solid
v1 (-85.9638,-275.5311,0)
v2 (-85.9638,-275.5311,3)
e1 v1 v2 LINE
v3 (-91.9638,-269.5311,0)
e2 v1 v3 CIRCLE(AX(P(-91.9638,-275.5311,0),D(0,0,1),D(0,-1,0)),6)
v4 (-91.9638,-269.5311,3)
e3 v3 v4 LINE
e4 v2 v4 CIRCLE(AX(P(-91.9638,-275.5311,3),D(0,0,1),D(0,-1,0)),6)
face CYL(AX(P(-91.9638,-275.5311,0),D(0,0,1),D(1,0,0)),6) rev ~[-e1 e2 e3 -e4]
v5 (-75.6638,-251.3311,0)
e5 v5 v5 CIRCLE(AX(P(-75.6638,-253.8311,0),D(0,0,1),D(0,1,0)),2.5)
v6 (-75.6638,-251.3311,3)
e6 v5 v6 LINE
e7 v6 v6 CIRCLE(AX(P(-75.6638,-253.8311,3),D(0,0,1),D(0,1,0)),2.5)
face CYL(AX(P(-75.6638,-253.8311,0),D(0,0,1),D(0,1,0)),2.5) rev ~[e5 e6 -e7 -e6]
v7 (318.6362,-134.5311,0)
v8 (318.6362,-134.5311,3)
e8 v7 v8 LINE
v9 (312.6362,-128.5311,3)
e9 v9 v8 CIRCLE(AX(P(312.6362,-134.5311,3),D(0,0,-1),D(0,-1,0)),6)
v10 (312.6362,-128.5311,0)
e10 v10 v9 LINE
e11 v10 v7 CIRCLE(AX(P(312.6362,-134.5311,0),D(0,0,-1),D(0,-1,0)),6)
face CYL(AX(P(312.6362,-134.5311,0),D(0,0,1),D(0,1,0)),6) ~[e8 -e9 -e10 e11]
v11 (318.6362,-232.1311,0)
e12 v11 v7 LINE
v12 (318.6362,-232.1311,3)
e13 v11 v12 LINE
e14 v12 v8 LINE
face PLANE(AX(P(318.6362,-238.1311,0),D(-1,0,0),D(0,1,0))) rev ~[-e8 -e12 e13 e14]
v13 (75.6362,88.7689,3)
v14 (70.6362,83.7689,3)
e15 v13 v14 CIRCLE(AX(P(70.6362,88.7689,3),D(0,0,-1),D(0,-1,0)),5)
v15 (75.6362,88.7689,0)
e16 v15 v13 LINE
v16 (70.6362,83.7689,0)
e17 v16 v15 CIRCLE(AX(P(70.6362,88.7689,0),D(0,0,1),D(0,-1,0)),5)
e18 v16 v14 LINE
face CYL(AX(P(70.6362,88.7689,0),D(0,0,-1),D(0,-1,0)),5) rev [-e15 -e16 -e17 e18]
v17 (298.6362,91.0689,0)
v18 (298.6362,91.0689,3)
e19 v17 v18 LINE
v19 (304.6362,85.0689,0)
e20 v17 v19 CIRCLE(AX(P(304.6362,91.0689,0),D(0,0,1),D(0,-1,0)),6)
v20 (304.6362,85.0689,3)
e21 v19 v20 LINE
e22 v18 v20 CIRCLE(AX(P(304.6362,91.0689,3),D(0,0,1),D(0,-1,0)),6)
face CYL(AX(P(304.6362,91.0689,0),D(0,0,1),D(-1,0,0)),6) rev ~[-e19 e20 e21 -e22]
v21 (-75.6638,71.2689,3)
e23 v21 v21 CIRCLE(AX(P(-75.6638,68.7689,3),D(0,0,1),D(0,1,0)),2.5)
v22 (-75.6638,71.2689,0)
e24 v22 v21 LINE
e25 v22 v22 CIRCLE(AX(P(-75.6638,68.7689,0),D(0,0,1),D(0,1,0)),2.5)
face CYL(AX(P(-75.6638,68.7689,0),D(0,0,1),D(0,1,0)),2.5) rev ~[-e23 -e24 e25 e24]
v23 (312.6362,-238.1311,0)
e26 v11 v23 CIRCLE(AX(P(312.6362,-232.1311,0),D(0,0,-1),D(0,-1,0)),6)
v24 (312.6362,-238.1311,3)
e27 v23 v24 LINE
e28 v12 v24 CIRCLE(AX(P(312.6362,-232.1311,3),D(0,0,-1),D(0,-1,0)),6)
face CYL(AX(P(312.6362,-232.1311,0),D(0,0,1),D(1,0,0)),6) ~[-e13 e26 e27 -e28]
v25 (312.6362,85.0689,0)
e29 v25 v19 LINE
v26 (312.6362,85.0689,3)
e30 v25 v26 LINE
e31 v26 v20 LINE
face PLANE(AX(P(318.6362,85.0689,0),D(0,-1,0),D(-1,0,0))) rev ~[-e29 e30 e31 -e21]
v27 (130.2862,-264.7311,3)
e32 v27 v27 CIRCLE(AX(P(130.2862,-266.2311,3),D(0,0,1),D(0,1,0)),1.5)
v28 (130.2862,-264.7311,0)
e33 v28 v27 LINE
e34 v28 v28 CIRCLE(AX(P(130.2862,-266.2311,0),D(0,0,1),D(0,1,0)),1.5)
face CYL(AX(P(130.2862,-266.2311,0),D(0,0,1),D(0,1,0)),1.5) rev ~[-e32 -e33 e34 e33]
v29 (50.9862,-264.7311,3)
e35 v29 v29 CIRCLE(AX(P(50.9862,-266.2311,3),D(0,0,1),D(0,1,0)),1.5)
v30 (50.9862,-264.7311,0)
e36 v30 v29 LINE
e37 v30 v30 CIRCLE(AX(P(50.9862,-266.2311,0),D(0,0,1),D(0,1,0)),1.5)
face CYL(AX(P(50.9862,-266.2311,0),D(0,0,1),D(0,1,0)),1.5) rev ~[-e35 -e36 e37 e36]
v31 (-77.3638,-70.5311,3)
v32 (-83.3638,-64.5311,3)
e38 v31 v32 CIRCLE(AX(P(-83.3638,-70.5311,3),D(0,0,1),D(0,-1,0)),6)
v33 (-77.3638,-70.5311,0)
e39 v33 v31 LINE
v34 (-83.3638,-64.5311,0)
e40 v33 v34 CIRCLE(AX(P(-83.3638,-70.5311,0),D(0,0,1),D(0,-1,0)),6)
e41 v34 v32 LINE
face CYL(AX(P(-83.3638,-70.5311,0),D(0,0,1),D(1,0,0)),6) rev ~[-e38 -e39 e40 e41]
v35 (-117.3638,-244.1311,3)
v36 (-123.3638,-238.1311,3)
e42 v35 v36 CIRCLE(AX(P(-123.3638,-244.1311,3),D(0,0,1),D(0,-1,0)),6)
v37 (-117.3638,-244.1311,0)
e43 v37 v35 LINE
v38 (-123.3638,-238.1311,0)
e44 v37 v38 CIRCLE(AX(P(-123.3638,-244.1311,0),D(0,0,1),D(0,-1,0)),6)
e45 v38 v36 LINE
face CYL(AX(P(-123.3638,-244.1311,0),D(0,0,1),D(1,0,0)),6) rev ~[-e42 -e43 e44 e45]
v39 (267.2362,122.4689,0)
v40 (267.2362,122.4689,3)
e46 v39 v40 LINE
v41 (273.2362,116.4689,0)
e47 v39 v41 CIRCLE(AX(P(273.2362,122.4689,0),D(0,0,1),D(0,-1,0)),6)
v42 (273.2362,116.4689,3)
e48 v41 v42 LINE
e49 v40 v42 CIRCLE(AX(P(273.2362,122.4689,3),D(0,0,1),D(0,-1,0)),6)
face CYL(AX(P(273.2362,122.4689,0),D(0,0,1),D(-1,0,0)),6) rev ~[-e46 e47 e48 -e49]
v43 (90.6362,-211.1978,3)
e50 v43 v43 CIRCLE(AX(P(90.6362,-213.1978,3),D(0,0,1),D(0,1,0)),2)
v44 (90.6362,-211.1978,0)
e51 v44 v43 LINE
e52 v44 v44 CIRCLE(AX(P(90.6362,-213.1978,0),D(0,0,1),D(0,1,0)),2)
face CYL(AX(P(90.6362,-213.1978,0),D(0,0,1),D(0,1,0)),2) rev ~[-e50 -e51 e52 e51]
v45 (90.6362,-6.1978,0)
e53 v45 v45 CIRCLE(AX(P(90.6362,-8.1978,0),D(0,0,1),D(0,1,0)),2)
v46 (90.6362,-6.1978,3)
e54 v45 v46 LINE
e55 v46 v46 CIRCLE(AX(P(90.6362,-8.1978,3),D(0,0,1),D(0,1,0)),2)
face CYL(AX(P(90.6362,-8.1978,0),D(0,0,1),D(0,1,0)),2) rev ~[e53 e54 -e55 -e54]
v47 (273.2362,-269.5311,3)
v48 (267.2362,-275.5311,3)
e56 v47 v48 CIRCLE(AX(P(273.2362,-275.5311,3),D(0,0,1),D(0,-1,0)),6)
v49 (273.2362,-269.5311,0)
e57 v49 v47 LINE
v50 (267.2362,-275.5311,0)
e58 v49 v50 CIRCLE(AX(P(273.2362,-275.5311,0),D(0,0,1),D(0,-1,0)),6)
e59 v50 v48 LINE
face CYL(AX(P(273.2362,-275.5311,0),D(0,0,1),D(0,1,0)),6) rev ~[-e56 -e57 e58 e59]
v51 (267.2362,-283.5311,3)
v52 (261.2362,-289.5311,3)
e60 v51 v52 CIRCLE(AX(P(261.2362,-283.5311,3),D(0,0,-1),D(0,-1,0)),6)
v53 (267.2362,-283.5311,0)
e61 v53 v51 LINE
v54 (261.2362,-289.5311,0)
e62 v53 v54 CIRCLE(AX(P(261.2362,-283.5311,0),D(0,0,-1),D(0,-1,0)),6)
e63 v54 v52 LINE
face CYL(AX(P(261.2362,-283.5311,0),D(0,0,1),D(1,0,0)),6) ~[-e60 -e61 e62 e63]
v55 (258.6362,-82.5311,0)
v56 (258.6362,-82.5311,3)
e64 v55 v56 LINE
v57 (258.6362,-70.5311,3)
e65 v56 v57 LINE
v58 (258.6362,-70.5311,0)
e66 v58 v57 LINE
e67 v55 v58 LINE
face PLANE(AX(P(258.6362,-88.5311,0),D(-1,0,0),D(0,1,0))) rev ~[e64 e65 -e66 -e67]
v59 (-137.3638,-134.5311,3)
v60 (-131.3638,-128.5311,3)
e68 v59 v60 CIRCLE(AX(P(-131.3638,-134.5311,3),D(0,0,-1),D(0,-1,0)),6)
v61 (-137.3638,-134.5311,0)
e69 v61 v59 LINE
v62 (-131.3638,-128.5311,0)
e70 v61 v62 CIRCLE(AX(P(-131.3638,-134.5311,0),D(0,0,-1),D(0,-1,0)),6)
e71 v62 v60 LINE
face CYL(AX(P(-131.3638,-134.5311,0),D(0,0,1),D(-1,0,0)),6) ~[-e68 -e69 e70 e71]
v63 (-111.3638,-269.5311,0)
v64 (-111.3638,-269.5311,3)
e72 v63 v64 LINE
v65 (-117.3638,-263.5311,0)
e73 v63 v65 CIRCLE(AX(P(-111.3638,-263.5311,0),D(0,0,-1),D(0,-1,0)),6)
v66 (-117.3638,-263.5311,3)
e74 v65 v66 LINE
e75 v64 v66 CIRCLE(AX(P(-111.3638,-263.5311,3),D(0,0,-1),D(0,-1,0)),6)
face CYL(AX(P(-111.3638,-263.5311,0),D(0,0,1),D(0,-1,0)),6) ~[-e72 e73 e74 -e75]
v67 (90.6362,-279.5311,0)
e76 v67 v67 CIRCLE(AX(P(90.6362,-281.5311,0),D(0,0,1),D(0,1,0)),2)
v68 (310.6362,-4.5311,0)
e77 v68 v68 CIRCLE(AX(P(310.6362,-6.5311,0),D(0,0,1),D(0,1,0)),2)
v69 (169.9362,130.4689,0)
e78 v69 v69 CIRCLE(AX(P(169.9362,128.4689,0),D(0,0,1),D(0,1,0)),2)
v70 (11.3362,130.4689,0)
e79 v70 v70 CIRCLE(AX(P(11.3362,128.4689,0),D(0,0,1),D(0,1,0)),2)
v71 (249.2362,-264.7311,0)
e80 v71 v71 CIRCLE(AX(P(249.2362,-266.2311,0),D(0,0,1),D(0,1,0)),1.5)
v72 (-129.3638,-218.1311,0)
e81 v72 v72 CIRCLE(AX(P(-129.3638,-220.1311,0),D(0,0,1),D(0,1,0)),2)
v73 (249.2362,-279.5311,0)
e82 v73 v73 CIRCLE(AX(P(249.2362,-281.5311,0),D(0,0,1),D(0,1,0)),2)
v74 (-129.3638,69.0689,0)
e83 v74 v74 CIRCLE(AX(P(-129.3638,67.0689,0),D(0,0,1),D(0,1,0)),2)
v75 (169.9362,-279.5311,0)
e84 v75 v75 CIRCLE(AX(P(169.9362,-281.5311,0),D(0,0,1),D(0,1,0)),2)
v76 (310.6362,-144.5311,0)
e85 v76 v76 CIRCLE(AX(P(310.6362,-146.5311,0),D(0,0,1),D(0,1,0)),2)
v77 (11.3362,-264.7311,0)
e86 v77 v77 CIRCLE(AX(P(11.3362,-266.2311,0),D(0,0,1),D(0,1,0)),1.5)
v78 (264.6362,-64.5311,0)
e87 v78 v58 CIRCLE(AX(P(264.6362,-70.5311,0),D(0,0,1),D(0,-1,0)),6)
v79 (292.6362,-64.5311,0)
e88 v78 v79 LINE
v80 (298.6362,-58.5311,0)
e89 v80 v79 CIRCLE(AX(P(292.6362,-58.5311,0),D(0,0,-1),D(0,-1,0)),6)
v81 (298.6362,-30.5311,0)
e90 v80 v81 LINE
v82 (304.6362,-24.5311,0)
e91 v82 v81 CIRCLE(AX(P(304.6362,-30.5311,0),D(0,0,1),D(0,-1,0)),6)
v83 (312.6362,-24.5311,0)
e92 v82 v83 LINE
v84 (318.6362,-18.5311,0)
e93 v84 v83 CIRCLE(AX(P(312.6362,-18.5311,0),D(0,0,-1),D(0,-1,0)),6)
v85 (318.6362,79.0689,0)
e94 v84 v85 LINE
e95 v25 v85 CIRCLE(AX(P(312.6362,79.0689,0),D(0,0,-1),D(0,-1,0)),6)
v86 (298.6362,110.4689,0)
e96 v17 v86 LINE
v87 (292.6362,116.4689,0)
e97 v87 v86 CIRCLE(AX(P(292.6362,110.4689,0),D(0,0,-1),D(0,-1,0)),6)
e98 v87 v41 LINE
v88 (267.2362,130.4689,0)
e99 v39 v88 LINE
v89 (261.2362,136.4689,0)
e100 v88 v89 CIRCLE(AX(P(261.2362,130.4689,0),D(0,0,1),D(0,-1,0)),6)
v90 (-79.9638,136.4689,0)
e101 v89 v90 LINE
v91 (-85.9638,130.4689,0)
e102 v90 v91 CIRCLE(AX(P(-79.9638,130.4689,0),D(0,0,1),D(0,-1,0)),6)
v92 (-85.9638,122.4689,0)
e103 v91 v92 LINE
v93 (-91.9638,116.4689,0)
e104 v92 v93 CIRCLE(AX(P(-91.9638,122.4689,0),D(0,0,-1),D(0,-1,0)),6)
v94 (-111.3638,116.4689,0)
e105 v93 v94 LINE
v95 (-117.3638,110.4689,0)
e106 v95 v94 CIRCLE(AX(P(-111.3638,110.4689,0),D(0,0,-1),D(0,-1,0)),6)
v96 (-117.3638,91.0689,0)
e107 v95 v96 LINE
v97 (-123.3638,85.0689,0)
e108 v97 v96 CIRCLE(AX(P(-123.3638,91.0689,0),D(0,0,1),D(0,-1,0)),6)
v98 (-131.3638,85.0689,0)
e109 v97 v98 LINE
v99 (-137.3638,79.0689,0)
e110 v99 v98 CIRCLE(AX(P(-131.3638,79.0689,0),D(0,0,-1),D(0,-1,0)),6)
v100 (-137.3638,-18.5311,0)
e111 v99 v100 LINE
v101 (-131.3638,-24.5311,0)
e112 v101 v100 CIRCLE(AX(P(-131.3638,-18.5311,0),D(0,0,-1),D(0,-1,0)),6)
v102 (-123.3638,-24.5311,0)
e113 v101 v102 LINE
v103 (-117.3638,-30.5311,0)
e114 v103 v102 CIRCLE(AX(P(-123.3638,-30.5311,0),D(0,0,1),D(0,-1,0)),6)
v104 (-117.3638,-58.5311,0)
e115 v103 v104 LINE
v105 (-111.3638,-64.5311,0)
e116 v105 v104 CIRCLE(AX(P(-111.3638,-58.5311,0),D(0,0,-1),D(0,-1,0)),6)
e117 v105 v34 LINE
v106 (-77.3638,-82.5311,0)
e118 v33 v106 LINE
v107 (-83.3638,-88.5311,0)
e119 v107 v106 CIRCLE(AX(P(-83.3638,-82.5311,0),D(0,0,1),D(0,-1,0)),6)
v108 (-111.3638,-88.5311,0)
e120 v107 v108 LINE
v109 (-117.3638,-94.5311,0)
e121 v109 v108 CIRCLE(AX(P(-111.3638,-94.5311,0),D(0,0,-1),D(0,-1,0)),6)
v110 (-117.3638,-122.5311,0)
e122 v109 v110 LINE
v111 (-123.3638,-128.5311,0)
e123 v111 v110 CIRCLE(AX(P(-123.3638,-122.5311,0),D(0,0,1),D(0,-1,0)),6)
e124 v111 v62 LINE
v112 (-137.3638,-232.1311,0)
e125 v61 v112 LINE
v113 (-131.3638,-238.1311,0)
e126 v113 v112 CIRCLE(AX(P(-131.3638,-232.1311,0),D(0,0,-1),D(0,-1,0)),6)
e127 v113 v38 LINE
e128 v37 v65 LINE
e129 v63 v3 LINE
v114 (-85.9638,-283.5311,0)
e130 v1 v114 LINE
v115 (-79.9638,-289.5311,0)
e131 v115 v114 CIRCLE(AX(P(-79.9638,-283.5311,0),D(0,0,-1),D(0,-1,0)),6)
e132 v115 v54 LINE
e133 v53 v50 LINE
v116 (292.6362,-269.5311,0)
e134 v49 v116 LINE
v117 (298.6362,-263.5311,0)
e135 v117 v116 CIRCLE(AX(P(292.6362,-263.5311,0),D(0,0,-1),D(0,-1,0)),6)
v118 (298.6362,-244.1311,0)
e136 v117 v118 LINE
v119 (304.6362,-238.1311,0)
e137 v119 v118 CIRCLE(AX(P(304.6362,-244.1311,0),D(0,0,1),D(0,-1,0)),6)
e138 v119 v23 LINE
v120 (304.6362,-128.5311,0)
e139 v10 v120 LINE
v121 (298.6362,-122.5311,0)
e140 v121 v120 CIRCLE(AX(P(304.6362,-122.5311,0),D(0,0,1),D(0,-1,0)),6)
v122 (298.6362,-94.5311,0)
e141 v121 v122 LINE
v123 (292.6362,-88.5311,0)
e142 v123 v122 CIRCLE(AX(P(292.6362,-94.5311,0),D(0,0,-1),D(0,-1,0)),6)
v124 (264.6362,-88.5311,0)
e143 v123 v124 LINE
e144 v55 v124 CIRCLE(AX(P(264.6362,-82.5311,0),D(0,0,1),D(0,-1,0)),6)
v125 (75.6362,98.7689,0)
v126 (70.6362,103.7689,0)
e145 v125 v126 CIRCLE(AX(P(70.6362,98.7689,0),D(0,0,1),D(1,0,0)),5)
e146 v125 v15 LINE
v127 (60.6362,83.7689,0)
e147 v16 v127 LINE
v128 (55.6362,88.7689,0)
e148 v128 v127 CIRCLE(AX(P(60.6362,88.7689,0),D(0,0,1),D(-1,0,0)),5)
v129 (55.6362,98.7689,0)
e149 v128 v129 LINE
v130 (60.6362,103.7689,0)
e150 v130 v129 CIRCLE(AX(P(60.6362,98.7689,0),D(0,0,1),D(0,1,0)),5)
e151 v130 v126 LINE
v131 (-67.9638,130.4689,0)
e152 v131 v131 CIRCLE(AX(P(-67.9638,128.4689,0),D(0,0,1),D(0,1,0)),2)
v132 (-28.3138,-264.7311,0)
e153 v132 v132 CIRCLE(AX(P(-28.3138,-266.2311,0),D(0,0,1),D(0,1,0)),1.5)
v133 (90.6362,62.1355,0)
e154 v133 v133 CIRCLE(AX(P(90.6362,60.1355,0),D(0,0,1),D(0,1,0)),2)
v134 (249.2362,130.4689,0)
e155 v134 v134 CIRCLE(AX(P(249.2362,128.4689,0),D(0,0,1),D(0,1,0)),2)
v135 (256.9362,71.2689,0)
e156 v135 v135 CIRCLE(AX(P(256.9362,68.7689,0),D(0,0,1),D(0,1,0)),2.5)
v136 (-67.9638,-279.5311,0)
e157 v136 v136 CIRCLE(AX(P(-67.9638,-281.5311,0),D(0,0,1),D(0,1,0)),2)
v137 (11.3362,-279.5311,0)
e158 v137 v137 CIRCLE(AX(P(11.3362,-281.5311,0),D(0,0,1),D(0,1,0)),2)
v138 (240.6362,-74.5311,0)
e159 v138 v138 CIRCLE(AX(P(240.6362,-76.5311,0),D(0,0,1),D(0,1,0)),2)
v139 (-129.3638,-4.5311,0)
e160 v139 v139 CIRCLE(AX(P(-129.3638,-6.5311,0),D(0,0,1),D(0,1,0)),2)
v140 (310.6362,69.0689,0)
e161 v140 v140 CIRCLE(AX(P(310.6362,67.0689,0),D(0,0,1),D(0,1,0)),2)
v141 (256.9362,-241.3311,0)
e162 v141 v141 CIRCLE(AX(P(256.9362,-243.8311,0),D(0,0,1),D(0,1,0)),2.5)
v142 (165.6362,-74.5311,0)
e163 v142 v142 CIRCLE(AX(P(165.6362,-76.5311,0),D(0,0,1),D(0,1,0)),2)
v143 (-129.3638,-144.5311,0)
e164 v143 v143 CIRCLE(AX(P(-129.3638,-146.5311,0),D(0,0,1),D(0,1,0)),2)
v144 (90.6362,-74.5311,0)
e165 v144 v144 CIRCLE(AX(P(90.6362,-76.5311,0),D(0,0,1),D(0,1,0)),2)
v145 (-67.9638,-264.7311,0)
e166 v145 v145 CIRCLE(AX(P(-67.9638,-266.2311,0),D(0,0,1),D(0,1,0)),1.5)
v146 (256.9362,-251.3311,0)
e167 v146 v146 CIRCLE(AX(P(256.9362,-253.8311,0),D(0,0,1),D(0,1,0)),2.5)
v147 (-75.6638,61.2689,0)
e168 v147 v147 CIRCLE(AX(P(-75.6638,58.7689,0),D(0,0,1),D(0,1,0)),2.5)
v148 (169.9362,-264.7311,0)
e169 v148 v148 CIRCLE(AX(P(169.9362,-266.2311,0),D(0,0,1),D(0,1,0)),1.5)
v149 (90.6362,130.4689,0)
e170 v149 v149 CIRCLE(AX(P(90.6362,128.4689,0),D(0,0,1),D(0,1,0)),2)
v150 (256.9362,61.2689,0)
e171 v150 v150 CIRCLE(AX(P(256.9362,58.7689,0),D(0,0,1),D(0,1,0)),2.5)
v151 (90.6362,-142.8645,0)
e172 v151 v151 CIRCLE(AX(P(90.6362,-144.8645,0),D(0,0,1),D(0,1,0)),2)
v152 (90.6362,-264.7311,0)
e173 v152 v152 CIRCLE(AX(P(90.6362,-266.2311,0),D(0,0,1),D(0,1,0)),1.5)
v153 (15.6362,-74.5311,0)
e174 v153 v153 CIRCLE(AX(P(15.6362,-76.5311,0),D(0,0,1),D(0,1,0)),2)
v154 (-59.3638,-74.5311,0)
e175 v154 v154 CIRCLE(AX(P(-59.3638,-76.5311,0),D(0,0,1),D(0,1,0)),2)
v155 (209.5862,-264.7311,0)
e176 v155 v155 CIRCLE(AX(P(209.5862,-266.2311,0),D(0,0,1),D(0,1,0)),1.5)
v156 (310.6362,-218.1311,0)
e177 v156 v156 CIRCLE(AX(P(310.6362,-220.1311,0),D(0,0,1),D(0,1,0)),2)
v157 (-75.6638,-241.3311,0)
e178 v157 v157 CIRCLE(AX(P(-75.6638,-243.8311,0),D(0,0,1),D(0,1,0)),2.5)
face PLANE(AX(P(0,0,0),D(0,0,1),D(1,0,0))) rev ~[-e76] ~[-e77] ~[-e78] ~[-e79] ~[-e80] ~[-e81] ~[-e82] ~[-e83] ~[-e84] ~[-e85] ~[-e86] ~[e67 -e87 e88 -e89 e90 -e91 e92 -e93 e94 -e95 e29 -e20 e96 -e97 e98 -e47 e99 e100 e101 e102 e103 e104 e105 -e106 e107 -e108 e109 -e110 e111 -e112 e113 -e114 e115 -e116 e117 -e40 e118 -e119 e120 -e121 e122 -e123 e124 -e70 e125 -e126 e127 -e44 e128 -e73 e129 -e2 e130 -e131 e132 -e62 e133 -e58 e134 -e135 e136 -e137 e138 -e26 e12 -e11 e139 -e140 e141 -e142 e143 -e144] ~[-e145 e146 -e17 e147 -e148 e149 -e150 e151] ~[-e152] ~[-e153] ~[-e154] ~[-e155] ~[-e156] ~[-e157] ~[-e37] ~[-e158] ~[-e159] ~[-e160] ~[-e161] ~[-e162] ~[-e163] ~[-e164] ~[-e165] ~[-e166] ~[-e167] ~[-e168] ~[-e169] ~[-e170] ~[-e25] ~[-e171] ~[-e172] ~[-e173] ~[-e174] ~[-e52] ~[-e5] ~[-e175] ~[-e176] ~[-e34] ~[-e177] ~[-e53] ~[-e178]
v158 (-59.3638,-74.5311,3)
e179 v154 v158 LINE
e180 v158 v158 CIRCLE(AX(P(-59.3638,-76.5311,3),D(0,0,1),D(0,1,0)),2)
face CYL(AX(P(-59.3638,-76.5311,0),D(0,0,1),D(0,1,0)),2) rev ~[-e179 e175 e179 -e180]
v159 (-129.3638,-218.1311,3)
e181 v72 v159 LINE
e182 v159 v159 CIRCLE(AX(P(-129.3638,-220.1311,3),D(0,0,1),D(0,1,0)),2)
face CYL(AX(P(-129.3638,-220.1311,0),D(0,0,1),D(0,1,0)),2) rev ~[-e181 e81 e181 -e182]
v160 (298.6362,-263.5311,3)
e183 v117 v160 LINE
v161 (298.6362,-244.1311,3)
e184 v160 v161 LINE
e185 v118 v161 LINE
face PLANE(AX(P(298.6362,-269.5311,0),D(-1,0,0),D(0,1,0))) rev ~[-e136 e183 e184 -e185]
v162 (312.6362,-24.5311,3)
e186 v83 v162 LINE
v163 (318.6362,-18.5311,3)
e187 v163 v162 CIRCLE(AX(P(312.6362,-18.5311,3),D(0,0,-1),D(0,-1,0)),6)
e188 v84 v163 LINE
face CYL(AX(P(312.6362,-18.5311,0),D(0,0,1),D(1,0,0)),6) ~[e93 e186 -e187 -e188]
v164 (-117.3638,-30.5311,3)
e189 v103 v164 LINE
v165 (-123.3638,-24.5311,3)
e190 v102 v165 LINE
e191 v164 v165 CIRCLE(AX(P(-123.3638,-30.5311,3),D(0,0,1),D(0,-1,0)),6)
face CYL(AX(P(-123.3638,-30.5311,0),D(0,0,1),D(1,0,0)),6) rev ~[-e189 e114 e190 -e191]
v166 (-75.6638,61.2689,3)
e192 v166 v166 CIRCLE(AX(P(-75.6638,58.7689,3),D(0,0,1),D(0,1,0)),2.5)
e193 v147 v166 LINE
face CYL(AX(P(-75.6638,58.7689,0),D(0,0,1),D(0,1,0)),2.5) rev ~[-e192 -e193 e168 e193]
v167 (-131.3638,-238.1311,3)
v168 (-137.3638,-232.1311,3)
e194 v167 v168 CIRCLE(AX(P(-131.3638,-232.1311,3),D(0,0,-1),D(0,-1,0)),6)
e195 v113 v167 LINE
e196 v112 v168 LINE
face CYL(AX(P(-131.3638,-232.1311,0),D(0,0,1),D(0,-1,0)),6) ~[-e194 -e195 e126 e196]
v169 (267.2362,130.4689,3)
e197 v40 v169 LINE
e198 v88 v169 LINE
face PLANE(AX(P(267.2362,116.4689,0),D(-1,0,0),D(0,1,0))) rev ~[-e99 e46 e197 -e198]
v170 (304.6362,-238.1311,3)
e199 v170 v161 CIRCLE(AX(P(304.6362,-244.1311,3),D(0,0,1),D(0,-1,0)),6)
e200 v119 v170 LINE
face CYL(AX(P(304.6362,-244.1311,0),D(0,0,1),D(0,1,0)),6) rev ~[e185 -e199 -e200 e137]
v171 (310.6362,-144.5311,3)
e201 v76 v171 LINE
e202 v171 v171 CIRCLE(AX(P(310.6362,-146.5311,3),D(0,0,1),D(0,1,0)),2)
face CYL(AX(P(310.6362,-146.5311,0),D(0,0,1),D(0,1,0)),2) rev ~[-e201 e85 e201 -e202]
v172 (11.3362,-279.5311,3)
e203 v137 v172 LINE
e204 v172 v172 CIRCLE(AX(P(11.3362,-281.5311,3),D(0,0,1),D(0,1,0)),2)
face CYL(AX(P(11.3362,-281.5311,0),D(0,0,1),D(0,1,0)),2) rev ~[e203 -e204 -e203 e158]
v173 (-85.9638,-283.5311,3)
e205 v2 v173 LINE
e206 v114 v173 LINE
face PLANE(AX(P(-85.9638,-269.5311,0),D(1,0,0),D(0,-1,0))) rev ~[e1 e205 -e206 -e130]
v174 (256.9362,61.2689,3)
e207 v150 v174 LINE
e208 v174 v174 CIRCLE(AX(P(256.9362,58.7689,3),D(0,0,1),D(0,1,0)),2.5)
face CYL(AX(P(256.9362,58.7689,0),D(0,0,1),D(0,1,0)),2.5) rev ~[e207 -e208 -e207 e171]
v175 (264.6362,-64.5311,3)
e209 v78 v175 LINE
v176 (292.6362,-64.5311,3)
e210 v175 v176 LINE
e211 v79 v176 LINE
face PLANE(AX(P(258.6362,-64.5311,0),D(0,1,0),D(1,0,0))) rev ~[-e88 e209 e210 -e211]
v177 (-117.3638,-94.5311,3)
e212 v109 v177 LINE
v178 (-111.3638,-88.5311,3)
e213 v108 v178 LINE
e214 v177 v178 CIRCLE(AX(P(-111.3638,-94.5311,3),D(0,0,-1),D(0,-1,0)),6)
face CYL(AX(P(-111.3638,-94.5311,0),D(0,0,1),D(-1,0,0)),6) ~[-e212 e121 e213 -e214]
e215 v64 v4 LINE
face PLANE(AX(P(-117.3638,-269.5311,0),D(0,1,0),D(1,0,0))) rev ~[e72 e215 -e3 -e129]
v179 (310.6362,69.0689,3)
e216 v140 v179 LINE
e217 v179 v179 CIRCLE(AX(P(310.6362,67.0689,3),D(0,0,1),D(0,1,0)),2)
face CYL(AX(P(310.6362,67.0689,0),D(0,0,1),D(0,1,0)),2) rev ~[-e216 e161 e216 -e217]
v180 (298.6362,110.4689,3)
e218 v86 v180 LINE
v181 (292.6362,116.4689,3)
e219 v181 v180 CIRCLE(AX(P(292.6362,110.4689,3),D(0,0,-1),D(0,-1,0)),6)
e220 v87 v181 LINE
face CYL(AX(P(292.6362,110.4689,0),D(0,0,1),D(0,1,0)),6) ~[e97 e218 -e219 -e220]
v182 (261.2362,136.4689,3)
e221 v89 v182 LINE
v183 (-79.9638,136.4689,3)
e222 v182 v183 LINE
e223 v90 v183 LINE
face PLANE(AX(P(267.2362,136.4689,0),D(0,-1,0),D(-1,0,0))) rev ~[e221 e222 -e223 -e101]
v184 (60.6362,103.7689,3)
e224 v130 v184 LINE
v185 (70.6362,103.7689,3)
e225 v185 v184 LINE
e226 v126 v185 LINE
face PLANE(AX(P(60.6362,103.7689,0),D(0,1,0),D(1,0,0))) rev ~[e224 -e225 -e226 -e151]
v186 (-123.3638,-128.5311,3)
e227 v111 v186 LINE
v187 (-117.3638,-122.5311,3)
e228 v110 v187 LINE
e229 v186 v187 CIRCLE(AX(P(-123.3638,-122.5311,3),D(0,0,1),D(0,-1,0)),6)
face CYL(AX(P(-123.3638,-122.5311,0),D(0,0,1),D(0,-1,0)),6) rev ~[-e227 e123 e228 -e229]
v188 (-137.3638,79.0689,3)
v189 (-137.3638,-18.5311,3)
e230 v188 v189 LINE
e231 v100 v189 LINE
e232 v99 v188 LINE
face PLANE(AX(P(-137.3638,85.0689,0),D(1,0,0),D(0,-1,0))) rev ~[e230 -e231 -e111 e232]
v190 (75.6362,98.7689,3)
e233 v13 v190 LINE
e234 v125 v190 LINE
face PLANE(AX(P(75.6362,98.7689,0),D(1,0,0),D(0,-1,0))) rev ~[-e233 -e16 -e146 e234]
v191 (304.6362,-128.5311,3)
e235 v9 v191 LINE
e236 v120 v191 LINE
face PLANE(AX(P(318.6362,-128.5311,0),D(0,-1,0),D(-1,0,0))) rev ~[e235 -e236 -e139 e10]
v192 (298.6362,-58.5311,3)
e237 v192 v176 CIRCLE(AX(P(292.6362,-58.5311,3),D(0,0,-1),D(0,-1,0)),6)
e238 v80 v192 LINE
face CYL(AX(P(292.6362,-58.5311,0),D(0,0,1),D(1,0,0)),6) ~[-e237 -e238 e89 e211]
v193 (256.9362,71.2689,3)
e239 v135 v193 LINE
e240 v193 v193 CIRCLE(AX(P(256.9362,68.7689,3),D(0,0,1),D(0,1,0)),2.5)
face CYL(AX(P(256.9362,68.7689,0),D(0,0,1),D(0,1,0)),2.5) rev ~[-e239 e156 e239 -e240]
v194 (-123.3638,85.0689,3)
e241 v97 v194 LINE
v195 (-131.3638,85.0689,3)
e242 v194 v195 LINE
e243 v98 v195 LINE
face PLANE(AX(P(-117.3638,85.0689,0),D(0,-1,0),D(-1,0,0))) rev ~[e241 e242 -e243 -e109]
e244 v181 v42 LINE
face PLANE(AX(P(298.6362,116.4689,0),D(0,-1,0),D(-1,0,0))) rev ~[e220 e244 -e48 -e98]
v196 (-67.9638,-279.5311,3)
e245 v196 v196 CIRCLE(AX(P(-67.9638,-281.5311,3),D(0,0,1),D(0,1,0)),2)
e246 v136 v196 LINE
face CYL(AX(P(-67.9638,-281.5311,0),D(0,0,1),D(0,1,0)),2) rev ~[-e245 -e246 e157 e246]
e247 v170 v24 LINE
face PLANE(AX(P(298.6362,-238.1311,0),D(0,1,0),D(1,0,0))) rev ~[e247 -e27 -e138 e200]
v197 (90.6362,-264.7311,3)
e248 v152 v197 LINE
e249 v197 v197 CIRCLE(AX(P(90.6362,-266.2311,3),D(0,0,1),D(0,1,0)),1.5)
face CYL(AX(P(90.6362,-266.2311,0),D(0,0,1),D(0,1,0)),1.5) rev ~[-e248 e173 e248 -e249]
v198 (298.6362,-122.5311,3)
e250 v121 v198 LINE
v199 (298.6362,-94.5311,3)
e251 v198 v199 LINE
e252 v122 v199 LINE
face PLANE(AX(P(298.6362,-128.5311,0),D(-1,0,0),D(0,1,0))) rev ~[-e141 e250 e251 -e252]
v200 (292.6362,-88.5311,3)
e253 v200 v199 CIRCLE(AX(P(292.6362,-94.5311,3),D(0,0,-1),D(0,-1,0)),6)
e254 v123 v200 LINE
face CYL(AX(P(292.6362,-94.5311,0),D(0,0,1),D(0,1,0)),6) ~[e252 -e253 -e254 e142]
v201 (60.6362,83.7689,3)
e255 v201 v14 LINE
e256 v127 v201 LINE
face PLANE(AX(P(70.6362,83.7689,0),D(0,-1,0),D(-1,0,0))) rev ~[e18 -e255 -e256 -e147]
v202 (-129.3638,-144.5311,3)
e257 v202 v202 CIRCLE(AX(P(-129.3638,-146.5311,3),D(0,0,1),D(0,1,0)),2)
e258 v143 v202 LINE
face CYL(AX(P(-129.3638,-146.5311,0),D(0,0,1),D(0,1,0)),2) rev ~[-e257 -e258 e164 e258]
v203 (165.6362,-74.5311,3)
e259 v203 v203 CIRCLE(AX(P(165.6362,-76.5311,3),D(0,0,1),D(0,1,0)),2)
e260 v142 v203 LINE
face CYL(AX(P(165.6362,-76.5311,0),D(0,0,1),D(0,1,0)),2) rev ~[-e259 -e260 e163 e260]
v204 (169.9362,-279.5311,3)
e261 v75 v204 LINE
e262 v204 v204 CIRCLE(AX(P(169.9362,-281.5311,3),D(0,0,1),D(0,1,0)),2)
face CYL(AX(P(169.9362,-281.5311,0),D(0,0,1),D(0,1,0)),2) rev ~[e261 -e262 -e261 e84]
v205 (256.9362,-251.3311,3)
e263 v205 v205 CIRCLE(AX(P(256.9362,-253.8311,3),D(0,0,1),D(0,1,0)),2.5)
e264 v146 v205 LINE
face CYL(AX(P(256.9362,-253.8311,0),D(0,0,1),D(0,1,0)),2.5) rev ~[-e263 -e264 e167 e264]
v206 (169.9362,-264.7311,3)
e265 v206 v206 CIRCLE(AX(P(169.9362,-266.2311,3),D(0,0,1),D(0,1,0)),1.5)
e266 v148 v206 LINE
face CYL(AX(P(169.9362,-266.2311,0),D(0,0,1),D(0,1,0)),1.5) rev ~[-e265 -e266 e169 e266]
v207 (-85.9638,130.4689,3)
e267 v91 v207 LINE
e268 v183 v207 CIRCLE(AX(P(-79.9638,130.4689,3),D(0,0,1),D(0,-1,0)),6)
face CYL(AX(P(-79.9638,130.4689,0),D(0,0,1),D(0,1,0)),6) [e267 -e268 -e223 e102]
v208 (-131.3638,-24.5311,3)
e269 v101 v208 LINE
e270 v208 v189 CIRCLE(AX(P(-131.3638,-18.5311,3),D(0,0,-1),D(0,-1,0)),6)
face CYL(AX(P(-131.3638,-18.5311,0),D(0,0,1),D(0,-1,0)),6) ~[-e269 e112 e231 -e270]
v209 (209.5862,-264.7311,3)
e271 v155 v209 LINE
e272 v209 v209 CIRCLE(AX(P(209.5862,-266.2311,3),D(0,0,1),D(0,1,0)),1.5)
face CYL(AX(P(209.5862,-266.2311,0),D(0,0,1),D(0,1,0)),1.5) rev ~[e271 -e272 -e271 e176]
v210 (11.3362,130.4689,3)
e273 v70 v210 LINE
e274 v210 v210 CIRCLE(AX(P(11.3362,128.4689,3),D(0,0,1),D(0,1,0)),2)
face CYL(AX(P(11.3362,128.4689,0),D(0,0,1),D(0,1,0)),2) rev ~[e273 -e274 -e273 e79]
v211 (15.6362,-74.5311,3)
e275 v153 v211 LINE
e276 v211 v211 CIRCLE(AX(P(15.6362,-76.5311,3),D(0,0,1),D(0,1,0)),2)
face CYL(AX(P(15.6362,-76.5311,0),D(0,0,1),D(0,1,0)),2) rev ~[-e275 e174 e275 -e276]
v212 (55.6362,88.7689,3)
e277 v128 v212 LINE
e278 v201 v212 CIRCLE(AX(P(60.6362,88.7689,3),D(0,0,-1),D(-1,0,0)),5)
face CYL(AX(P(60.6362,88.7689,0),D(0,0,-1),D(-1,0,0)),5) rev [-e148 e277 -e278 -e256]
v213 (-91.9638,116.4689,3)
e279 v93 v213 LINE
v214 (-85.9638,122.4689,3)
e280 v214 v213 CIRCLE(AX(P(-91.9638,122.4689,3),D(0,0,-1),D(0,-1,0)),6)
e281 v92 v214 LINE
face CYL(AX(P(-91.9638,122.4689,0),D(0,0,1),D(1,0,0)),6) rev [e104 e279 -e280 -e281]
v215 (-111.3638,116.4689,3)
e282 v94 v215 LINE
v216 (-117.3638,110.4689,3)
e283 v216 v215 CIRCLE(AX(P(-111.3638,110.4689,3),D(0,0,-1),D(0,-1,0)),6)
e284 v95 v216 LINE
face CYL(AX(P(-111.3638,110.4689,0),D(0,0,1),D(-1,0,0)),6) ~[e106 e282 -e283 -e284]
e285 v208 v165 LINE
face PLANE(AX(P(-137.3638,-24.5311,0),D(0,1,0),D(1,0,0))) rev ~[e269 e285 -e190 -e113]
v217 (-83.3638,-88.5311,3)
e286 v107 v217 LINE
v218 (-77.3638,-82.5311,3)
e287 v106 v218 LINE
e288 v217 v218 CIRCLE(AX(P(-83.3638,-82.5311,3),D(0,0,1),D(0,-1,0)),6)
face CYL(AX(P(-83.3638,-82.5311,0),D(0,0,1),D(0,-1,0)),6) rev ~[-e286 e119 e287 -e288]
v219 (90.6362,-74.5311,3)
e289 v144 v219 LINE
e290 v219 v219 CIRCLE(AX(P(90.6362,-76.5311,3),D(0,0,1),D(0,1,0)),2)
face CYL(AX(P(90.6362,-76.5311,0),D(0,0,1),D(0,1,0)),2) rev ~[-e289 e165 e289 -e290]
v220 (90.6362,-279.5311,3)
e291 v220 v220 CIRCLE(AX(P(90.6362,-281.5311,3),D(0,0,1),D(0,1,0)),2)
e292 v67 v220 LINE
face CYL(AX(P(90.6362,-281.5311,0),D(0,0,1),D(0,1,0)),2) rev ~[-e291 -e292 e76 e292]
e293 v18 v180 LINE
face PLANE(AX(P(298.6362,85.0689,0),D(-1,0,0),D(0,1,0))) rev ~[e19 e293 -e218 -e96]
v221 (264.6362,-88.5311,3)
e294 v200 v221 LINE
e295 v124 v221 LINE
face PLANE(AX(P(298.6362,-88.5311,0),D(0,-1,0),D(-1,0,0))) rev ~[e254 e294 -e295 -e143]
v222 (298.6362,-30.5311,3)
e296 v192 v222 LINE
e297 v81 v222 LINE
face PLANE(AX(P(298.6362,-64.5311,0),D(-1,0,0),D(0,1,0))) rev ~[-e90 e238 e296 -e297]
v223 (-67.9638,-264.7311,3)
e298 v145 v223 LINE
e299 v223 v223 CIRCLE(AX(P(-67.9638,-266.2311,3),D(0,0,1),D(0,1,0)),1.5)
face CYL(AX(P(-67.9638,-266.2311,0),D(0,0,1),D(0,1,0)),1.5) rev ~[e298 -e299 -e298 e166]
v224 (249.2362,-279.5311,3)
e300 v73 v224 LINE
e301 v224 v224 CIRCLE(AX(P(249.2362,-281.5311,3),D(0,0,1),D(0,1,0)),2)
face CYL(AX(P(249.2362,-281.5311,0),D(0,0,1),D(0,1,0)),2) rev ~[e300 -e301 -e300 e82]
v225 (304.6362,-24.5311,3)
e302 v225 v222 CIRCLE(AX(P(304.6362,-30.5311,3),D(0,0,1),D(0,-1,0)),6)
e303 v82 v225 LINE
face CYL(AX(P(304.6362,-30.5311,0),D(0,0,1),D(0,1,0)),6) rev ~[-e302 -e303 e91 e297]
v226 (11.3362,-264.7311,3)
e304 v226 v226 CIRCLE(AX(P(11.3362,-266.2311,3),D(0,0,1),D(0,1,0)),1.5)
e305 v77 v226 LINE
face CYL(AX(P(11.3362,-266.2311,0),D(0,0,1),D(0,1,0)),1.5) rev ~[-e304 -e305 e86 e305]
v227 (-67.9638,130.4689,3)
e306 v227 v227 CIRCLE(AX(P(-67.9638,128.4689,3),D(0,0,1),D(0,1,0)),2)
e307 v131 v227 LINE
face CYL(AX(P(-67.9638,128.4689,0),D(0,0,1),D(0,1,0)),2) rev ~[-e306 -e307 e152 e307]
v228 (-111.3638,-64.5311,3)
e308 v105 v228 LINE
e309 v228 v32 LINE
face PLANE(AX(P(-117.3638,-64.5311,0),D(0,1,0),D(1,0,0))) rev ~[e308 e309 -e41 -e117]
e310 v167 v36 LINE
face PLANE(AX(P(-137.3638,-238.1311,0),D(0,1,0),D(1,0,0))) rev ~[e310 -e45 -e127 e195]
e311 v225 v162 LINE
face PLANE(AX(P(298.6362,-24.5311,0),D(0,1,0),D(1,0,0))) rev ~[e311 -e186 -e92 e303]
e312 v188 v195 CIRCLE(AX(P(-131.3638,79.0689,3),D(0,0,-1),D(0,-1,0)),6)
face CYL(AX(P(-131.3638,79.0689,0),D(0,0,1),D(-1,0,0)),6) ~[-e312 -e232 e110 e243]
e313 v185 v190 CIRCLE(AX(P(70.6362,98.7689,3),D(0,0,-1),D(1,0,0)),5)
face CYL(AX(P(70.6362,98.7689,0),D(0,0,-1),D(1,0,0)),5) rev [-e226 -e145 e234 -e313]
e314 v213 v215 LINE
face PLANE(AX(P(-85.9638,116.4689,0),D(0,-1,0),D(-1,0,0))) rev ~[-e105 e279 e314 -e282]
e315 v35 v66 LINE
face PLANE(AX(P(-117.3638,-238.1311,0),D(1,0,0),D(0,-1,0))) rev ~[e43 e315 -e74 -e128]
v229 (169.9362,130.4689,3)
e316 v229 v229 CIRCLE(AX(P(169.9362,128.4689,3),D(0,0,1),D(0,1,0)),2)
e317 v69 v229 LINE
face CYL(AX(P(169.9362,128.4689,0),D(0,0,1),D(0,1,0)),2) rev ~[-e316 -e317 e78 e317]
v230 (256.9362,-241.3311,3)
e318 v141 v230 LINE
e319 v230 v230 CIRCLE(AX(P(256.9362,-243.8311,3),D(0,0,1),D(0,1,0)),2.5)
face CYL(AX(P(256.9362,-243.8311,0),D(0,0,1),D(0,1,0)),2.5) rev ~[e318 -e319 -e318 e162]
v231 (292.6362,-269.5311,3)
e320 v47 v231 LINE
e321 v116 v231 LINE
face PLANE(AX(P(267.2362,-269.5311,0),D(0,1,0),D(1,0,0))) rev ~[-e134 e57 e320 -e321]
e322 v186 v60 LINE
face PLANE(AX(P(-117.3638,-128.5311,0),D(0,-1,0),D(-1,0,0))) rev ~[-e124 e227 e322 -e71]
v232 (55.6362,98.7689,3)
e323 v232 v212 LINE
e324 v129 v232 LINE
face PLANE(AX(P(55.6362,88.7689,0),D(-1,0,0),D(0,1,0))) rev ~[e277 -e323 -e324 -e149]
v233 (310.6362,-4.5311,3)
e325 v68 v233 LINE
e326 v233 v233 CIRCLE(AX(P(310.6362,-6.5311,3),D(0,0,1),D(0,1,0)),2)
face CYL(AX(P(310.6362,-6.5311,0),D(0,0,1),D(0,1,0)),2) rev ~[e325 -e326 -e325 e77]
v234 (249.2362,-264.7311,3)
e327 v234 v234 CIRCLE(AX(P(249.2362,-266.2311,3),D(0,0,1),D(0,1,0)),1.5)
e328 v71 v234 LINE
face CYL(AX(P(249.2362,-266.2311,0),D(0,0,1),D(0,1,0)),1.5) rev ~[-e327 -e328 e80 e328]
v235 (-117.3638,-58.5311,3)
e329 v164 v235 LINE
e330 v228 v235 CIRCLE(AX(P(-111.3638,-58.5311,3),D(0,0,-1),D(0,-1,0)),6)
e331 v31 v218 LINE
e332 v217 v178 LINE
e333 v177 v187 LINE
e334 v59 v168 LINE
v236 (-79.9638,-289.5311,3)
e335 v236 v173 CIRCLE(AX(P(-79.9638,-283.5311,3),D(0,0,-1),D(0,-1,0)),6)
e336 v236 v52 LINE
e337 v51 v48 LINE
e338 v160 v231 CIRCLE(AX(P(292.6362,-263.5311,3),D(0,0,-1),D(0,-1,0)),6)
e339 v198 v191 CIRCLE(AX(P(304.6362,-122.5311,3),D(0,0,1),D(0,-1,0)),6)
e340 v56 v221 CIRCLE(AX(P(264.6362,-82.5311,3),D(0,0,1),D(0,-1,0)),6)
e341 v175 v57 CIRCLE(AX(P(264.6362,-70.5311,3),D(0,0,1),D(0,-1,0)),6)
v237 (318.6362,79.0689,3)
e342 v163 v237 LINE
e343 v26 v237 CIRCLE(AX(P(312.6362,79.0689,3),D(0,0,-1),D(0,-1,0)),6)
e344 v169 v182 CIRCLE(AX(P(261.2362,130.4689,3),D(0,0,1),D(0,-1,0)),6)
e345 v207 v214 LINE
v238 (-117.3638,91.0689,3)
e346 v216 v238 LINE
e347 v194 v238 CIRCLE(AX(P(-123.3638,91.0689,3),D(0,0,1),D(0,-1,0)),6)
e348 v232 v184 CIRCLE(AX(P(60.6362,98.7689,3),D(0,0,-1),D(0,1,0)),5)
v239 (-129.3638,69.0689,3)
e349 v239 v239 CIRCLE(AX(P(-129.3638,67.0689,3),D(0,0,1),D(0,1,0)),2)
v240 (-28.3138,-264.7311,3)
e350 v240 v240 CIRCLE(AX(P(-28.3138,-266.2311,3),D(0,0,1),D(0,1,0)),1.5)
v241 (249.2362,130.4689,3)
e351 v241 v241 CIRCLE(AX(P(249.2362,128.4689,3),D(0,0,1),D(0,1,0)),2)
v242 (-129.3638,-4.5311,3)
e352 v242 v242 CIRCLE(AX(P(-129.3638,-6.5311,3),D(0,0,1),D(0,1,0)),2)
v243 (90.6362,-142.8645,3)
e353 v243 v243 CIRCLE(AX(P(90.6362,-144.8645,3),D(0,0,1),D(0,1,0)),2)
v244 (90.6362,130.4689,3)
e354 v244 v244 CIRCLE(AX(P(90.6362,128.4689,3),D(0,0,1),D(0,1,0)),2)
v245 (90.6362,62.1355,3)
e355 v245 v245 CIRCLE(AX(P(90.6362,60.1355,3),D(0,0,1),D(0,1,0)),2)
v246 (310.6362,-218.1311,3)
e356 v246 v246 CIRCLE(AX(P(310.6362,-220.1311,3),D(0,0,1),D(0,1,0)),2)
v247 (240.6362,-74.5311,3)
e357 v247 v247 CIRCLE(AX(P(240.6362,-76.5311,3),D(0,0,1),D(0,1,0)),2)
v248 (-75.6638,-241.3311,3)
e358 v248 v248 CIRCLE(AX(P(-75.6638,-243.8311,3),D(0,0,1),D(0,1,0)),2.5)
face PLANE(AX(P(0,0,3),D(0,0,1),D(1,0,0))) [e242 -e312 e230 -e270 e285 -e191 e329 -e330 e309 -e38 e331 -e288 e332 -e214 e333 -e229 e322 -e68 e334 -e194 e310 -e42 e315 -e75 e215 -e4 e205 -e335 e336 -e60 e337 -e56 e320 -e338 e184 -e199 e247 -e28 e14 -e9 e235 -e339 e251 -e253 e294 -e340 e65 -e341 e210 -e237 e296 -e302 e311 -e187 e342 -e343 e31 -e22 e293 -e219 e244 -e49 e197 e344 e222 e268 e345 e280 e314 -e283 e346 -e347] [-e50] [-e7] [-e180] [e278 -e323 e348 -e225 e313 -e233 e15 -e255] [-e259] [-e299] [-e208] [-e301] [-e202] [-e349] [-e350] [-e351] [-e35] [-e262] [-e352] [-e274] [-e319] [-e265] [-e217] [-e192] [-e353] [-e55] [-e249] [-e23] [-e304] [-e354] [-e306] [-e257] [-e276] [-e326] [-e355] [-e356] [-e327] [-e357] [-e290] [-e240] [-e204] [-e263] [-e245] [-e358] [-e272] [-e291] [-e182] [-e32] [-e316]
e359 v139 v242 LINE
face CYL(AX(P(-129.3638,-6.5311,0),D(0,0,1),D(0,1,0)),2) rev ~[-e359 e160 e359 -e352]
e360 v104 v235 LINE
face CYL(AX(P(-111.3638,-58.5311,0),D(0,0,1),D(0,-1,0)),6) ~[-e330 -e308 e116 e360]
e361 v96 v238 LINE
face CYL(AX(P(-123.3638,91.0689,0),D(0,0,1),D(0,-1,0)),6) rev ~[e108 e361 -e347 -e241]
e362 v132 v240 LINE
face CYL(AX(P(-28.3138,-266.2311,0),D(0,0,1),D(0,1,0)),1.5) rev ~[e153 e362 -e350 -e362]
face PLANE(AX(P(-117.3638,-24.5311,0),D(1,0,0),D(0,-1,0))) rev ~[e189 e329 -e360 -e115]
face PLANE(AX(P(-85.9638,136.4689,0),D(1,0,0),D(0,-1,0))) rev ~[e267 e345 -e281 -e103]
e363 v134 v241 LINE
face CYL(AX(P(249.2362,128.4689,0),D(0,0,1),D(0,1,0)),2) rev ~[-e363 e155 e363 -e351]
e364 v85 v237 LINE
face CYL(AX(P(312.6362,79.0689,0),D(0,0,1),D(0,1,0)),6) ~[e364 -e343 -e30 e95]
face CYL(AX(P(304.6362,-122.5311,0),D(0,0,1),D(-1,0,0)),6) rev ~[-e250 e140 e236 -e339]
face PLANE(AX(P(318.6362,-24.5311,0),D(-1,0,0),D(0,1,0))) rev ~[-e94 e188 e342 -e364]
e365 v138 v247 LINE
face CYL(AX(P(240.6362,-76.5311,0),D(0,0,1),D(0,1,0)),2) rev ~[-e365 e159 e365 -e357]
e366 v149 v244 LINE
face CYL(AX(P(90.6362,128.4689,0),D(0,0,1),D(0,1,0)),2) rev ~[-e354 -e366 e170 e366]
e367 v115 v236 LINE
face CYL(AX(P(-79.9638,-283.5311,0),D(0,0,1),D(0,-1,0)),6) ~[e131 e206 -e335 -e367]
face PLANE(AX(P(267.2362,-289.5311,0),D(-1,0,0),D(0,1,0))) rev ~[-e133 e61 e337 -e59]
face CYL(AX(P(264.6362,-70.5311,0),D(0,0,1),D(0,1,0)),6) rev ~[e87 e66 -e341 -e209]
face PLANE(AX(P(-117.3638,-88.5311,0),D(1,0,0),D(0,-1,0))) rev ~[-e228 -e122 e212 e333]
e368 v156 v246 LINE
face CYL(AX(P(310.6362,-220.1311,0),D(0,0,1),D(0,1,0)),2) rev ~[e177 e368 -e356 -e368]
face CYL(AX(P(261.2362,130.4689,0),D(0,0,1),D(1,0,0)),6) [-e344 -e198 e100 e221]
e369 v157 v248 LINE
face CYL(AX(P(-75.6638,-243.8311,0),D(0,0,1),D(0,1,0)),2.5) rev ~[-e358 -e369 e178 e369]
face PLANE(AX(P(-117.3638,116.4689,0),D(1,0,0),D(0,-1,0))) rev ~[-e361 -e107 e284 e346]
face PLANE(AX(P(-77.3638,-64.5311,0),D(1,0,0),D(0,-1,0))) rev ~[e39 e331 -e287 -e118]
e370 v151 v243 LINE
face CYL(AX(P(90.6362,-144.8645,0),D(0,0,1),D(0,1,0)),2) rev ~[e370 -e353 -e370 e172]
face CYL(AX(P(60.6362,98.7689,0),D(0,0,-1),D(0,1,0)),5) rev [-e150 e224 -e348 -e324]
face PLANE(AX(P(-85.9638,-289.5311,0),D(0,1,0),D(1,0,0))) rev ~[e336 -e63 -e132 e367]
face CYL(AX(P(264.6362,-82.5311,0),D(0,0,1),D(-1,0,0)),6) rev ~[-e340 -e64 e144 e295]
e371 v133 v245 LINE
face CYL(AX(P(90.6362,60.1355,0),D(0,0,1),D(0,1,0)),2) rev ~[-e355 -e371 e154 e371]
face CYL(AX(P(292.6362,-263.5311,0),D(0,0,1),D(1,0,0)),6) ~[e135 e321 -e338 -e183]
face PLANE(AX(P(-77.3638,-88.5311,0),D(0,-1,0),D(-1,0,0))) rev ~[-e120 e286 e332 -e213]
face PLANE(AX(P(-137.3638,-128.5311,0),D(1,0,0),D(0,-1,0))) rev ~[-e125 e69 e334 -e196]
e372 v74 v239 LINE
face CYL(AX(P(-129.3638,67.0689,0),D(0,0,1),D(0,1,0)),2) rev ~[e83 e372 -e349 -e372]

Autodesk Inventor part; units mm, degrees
ref_plane "YZ Plane" through (0, 0, 0) normal (1, 0, 0) x (0, 1, 0)
ref_plane "XZ Plane" through (0, 0, 0) normal (0, 1, 0) x (-1, 0, 0)
ref_plane "XY Plane" through (0, 0, 0) normal (0, 0, 1) x (1, 0, 0)
sketch "Szkic1" plane through (0, 0, 0) normal (0, 0, 1) x (1, 0, 0)
  line L0 (-139.3638, 87.0689) -> (-119.3638, 87.0689)
  line L1 (-119.3638, 87.0689) -> (-119.3638, 118.4689)
  line L2 (-119.3638, 118.4689) -> (-87.9638, 118.4689)
  line L3 (-87.9638, 118.4689) -> (-87.9638, 138.4689)
  line L4 (-87.9638, 138.4689) -> (269.2362, 138.4689)
  line L5 (-139.3638, 87.0689) -> (-139.3638, -26.5311)
  line L6 (-139.3638, -26.5311) -> (-119.3638, -26.5311)
  line L7 (-119.3638, -26.5311) -> (-119.3638, -66.5311)
  line L8 (-119.3638, -66.5311) -> (-79.3638, -66.5311)
  line L9 (-79.3638, -66.5311) -> (-79.3638, -86.5311)
  line L10 (-79.3638, -86.5311) -> (-119.3638, -86.5311)
  line L11 (-119.3638, -86.5311) -> (-119.3638, -126.5311)
  line L12 (-119.3638, -126.5311) -> (-139.3638, -126.5311)
  line L13 (-139.3638, -126.5311) -> (-139.3638, -240.1311)
  line L14 (-139.3638, -240.1311) -> (-119.3638, -240.1311)
  line L15 (-119.3638, -240.1311) -> (-119.3638, -271.5311)
  line L16 (-119.3638, -271.5311) -> (-87.9638, -271.5311)
  line L17 (-87.9638, -271.5311) -> (-87.9638, -291.5311)
  line L18 (-87.9638, -291.5311) -> (269.2362, -291.5311)
  line L19 (269.2362, 138.4689) -> (269.2362, 118.4689)
  line L20 (269.2362, 118.4689) -> (300.6362, 118.4689)
  line L21 (300.6362, 118.4689) -> (300.6362, 87.0689)
  line L22 (300.6362, 87.0689) -> (320.6362, 87.0689)
  line L23 (320.6362, 87.0689) -> (320.6362, -26.5311)
  line L24 (269.2362, -291.5311) -> (269.2362, -271.5311)
  line L25 (269.2362, -271.5311) -> (300.6362, -271.5311)
  line L26 (300.6362, -271.5311) -> (300.6362, -240.1311)
  line L27 (300.6362, -240.1311) -> (320.6362, -240.1311)
  line L28 (320.6362, -240.1311) -> (320.6362, -126.5311)
  line L29 (320.6362, -26.5311) -> (300.6362, -26.5311)
  line L30 (300.6362, -26.5311) -> (300.6362, -66.5311)
  line L31 (300.6362, -66.5311) -> (260.6362, -66.5311)
  line L32 (260.6362, -66.5311) -> (260.6362, -86.5311)
  line L33 (260.6362, -86.5311) -> (300.6362, -86.5311)
  line L34 (300.6362, -86.5311) -> (300.6362, -126.5311)
  line L35 (300.6362, -126.5311) -> (320.6362, -126.5311)
  line L36 (267.2362, 136.4689) -> (-85.9638, 136.4689)
  line L37 (-85.9638, 136.4689) -> (-85.9638, 116.4689)
  line L38 (-85.9638, 116.4689) -> (-117.3638, 116.4689)
  line L39 (-117.3638, 116.4689) -> (-117.3638, 85.0689)
  line L40 (-117.3638, 85.0689) -> (-137.3638, 85.0689)
  line L41 (-137.3638, 85.0689) -> (-137.3638, -24.5311)
  line L42 (-137.3638, -24.5311) -> (-117.3638, -24.5311)
  line L43 (-117.3638, -24.5311) -> (-117.3638, -64.5311)
  line L44 (-117.3638, -64.5311) -> (-77.3638, -64.5311)
  line L45 (-77.3638, -64.5311) -> (-77.3638, -88.5311)
  line L46 (-77.3638, -88.5311) -> (-117.3638, -88.5311)
  line L47 (-117.3638, -88.5311) -> (-117.3638, -128.5311)
  line L48 (-117.3638, -128.5311) -> (-137.3638, -128.5311)
  line L49 (-137.3638, -128.5311) -> (-137.3638, -238.1311)
  line L50 (-137.3638, -238.1311) -> (-117.3638, -238.1311)
  line L51 (-117.3638, -238.1311) -> (-117.3638, -269.5311)
  line L52 (-117.3638, -269.5311) -> (-85.9638, -269.5311)
  line L53 (-85.9638, -269.5311) -> (-85.9638, -289.5311)
  line L54 (-85.9638, -289.5311) -> (267.2362, -289.5311)
  line L55 (267.2362, -289.5311) -> (267.2362, -269.5311)
  line L56 (267.2362, -269.5311) -> (298.6362, -269.5311)
  line L57 (298.6362, -269.5311) -> (298.6362, -238.1311)
  line L58 (298.6362, -238.1311) -> (318.6362, -238.1311)
  line L59 (318.6362, -238.1311) -> (318.6362, -128.5311)
  line L60 (318.6362, -128.5311) -> (298.6362, -128.5311)
  line L61 (298.6362, -128.5311) -> (298.6362, -88.5311)
  line L62 (298.6362, -88.5311) -> (258.6362, -88.5311)
  line L63 (258.6362, -88.5311) -> (258.6362, -64.5311)
  line L64 (258.6362, -64.5311) -> (298.6362, -64.5311)
  line L65 (298.6362, -64.5311) -> (298.6362, -24.5311)
  line L66 (298.6362, -24.5311) -> (318.6362, -24.5311)
  line L67 (318.6362, -24.5311) -> (318.6362, 85.0689)
  line L68 (318.6362, 85.0689) -> (298.6362, 85.0689)
  line L69 (298.6362, 85.0689) -> (298.6362, 116.4689)
  line L70 (298.6362, 116.4689) -> (267.2362, 116.4689)
  line L71 (267.2362, 116.4689) -> (267.2362, 136.4689)
  line L72 (60.6362, 103.7689) -> (70.6362, 103.7689)
  line L73 (75.6362, 98.7689) -> (75.6362, 88.7689)
  line L74 (70.6362, 83.7689) -> (60.6362, 83.7689)
  line L75 (55.6362, 88.7689) -> (55.6362, 98.7689)
  arc A0 (60.6362, 103.7689) -> (55.6362, 98.7689) centre (60.6362, 98.7689) ccw
  arc A1 (75.6362, 98.7689) -> (70.6362, 103.7689) centre (70.6362, 98.7689) ccw
  arc A2 (55.6362, 88.7689) -> (60.6362, 83.7689) centre (60.6362, 88.7689) ccw
  arc A3 (70.6362, 83.7689) -> (75.6362, 88.7689) centre (70.6362, 88.7689) ccw
  point P0 (0, 0)
  point P1 (90.6362, 128.4689)
  point P2 (-59.3638, -76.5311)
  point P3 (90.6362, 60.1355)
  point P4 (90.6362, -8.1978)
  point P5 (90.6362, -76.5311)
  point P6 (90.6362, -144.8645)
  point P7 (90.6362, -213.1978)
  point P8 (90.6362, -281.5311)
  point P9 (240.6362, -76.5311)
  point P10 (15.6362, -76.5311)
  point P11 (90.6362, -76.5311)
  point P12 (165.6362, -76.5311)
  point P13 (-75.6638, -243.8311)
  point P14 (-75.6638, 68.7689)
  point P15 (256.9362, 68.7689)
  point P16 (256.9362, -243.8311)
  point P17 (55.6362, 103.7689)
  point P18 (75.6362, 83.7689)
  point P19 (75.6362, 103.7689)
  point P20 (55.6362, 83.7689)
  point P21 (-129.3638, 67.0689)
  point P22 (-129.3638, -6.5311)
  point P23 (-129.3638, -146.5311)
  point P24 (-129.3638, -220.1311)
  point P25 (310.6362, -146.5311)
  point P26 (310.6362, -220.1311)
  point P27 (310.6362, 67.0689)
  point P28 (310.6362, -6.5311)
  point P29 (-67.9638, 128.4689)
  point P30 (11.3362, 128.4689)
  point P31 (169.9362, 128.4689)
  point P32 (249.2362, 128.4689)
  point P33 (-67.9638, -281.5311)
  point P34 (11.3362, -281.5311)
  point P35 (169.9362, -281.5311)
  point P36 (249.2362, -281.5311)
  point P37 (-75.6638, 68.7689)
  point P38 (-75.6638, -253.8311)
  point P39 (256.9362, 58.7689)
  point P40 (256.9362, -253.8311)
  point P41 (-75.6638, 58.7689)
  point P42 (-67.9638, -266.2311)
  point P43 (249.2362, -266.2311)
  point P44 (-28.3138, -266.2311)
  point P45 (11.3362, -266.2311)
  point P46 (50.9862, -266.2311)
  point P47 (90.6362, -266.2311)
  point P48 (130.2862, -266.2311)
  point P49 (169.9362, -266.2311)
  point P50 (209.5862, -266.2311)
  dimension "d0" = 51.4
  dimension "d1" = 51.4
  dimension "d2" = 20
  dimension "d3" = 20
  dimension "d4" = 113.6
  dimension "d5" = 20
  dimension "d6" = 20
  dimension "d7" = 113.6
  dimension "d8" = 20
  dimension "d9" = 40
  dimension "d10" = 40
  dimension "d11" = 40
  dimension "d12" = 20
  dimension "d13" = 20
  dimension "d14" = 51.4
  dimension "d15" = 51.4
  dimension "d16" = 357.2
  dimension "d17" = 357.2
  dimension "d18" = 113.6
  dimension "d19" = 51.4
  dimension "d20" = 51.4
  dimension "d21" = 20
  dimension "d22" = 20
  dimension "d23" = 113.6
  dimension "d24" = 51.4
  dimension "d25" = 51.4
  dimension "d26" = 20
  dimension "d27" = 20
  dimension "d28" = 20
  dimension "d29" = 40
  dimension "d30" = 40
  dimension "d31" = 20
  dimension "d32" = 40
  dimension "d33" = 2
  dimension "d34" = 10
  dimension "d35" = 460
  dimension "d36" = 430
  dimension "d37" = 230
  dimension "d40" = 68.3333
  dimension "d48" = 10
  dimension "d49" = 230
  dimension "d57" = 20
  dimension "d58" = 20
  dimension "d59" = 10
  dimension "d60" = 10
  dimension "d63" = 75
  dimension "d68" = 312.6
  dimension "d69" = 332.6
  dimension "d70" = 312.6
  dimension "d71" = 332.6
  dimension "d72" = 47.7
  dimension "d74" = 47.7
  dimension "d75" = 63.7
  dimension "d76" = 63.7
  dimension "d84" = 20
  dimension "d85" = 20
  dimension "d86" = 15
  dimension "d87" = 15
  dimension "d90" = 5
  dimension "d91" = 5
  dimension "d92" = 5
  dimension "d93" = 5
  dimension "d102" = 10
  dimension "d103" = 10
extrude "Wyciągnięcie proste1" add sketch "Szkic1" along normal blind 3 contours L71 L70 L69 L68 L67 L66 L65 L64 L63 L62 L61 L60 L59 L58 L57 L56 L55 L54 L53 L52 L51 L50 L49 L48 L47 L46 L45 L44 L43 L42 L41 L40 L39 L38 L37 L36 | L72 A1 L73 A3 L74 A2 L75 A0
fillet "Zaokrąglenie1" radius 6 36 edges at (267.2362, -289.5311, 1.5) (267.2362, -269.5311, 1.5) (298.6362, -269.5311, 1.5) (298.6362, -238.1311, 1.5) (318.6362, -238.1311, 1.5) (318.6362, -128.5311, 1.5) (298.6362, -128.5311, 1.5) (298.6362, -88.5311, 1.5) (258.6362, -88.5311, 1.5) (258.6362, -64.5311, 1.5) (298.6362, -64.5311, 1.5) (298.6362, -24.5311, 1.5) (318.6362, -24.5311, 1.5) (318.6362, 85.0689, 1.5) (298.6362, 85.0689, 1.5) (298.6362, 116.4689, 1.5) (267.2362, 116.4689, 1.5) (267.2362, 136.4689, 1.5) (-85.9638, 136.4689, 1.5) (-85.9638, 116.4689, 1.5) (-117.3638, 116.4689, 1.5) (-117.3638, 85.0689, 1.5) (-137.3638, 85.0689, 1.5) (-137.3638, -24.5311, 1.5) (-117.3638, -24.5311, 1.5) (-117.3638, -64.5311, 1.5) (-77.3638, -64.5311, 1.5) (-77.3638, -88.5311, 1.5) (-117.3638, -88.5311, 1.5) (-117.3638, -128.5311, 1.5) (-137.3638, -128.5311, 1.5) (-137.3638, -238.1311, 1.5) (-117.3638, -238.1311, 1.5) (-117.3638, -269.5311, 1.5) (-85.9638, -269.5311, 1.5) (-85.9638, -289.5311, 1.5)
hole "Otwór1" at (90.6362, 128.4689, 0) at (-59.3638, -76.5311, 0) at (90.6362, 60.1355, 0) at (90.6362, -8.1978, 0) at (90.6362, -76.5311, 0) at (90.6362, -144.8645, 0) at (90.6362, -213.1978, 0) at (90.6362, -281.5311, 0) at (15.6362, -76.5311, 0) at (240.6362, -76.5311, 0) at (165.6362, -76.5311, 0) at (249.2362, 128.4689, 0) at (169.9362, 128.4689, 0) at (11.3362, 128.4689, 0) at (-67.9638, 128.4689, 0) at (-129.3638, 67.0689, 0) at (-129.3638, -6.5311, 0) at (-129.3638, -146.5311, 0) at (-129.3638, -220.1311, 0) at (-67.9638, -281.5311, 0) at (11.3362, -281.5311, 0) at (169.9362, -281.5311, 0) at (249.2362, -281.5311, 0) at (310.6362, -220.1311, 0) at (310.6362, -146.5311, 0) at (310.6362, -6.5311, 0) at (310.6362, 67.0689, 0) direction (0, 0, 1) diameter 4 end through all
extrude "Wyciągnięcie proste2" cut sketch "Szkic1" along normal blind 10 contours L72 A1 L73 A3 L74 A2 L75 A0
hole "Otwór3" at (256.9362, -243.8311, 0) at (256.9362, 68.7689, 0) at (-75.6638, 68.7689, 0) at (-75.6638, -243.8311, 0) at (-75.6638, -253.8311, 0) at (256.9362, -253.8311, 0) at (256.9362, 58.7689, 0) at (-75.6638, 58.7689, 0) direction (0, 0, 1) diameter 5 end through all
hole "Otwór4" at (-67.9638, -266.2311, 0) at (-28.3138, -266.2311, 0) at (50.9862, -266.2311, 0) at (11.3362, -266.2311, 0) at (130.2862, -266.2311, 0) at (90.6362, -266.2311, 0) at (209.5862, -266.2311, 0) at (169.9362, -266.2311, 0) at (249.2362, -266.2311, 0) direction (0, 0, 1) diameter 3 end through all
equation "\"d1\" = d0"
equation "\"d7\" = d4"
equation "\"d10\" = d9"
equation "\"d13\" = d12"
equation "\"d14\" = d0"
equation "\"d15\" = d14"
equation "\"d17\" = d16"
equation "\"d18\" = d4"
equation "\"d19\" = d0"
equation "\"d20\" = d0"
equation "\"d21\" = d2"
equation "\"d23\" = d4"
equation "\"d24\" = d0"
equation "\"d25\" = d0"
equation "\"d26\" = d2"
equation "\"d27\" = d26"
equation "\"d37\" = 0.5 * d35"
equation "\"d49\" = d37"
equation "\"d70\" = d68"
equation "\"d71\" = d69"
equation "\"d74\" = d72"
equation "\"d76\" = d75"
properties part number "LC_ALU_3mm_Heatbed_Frame_Top_Plate"
